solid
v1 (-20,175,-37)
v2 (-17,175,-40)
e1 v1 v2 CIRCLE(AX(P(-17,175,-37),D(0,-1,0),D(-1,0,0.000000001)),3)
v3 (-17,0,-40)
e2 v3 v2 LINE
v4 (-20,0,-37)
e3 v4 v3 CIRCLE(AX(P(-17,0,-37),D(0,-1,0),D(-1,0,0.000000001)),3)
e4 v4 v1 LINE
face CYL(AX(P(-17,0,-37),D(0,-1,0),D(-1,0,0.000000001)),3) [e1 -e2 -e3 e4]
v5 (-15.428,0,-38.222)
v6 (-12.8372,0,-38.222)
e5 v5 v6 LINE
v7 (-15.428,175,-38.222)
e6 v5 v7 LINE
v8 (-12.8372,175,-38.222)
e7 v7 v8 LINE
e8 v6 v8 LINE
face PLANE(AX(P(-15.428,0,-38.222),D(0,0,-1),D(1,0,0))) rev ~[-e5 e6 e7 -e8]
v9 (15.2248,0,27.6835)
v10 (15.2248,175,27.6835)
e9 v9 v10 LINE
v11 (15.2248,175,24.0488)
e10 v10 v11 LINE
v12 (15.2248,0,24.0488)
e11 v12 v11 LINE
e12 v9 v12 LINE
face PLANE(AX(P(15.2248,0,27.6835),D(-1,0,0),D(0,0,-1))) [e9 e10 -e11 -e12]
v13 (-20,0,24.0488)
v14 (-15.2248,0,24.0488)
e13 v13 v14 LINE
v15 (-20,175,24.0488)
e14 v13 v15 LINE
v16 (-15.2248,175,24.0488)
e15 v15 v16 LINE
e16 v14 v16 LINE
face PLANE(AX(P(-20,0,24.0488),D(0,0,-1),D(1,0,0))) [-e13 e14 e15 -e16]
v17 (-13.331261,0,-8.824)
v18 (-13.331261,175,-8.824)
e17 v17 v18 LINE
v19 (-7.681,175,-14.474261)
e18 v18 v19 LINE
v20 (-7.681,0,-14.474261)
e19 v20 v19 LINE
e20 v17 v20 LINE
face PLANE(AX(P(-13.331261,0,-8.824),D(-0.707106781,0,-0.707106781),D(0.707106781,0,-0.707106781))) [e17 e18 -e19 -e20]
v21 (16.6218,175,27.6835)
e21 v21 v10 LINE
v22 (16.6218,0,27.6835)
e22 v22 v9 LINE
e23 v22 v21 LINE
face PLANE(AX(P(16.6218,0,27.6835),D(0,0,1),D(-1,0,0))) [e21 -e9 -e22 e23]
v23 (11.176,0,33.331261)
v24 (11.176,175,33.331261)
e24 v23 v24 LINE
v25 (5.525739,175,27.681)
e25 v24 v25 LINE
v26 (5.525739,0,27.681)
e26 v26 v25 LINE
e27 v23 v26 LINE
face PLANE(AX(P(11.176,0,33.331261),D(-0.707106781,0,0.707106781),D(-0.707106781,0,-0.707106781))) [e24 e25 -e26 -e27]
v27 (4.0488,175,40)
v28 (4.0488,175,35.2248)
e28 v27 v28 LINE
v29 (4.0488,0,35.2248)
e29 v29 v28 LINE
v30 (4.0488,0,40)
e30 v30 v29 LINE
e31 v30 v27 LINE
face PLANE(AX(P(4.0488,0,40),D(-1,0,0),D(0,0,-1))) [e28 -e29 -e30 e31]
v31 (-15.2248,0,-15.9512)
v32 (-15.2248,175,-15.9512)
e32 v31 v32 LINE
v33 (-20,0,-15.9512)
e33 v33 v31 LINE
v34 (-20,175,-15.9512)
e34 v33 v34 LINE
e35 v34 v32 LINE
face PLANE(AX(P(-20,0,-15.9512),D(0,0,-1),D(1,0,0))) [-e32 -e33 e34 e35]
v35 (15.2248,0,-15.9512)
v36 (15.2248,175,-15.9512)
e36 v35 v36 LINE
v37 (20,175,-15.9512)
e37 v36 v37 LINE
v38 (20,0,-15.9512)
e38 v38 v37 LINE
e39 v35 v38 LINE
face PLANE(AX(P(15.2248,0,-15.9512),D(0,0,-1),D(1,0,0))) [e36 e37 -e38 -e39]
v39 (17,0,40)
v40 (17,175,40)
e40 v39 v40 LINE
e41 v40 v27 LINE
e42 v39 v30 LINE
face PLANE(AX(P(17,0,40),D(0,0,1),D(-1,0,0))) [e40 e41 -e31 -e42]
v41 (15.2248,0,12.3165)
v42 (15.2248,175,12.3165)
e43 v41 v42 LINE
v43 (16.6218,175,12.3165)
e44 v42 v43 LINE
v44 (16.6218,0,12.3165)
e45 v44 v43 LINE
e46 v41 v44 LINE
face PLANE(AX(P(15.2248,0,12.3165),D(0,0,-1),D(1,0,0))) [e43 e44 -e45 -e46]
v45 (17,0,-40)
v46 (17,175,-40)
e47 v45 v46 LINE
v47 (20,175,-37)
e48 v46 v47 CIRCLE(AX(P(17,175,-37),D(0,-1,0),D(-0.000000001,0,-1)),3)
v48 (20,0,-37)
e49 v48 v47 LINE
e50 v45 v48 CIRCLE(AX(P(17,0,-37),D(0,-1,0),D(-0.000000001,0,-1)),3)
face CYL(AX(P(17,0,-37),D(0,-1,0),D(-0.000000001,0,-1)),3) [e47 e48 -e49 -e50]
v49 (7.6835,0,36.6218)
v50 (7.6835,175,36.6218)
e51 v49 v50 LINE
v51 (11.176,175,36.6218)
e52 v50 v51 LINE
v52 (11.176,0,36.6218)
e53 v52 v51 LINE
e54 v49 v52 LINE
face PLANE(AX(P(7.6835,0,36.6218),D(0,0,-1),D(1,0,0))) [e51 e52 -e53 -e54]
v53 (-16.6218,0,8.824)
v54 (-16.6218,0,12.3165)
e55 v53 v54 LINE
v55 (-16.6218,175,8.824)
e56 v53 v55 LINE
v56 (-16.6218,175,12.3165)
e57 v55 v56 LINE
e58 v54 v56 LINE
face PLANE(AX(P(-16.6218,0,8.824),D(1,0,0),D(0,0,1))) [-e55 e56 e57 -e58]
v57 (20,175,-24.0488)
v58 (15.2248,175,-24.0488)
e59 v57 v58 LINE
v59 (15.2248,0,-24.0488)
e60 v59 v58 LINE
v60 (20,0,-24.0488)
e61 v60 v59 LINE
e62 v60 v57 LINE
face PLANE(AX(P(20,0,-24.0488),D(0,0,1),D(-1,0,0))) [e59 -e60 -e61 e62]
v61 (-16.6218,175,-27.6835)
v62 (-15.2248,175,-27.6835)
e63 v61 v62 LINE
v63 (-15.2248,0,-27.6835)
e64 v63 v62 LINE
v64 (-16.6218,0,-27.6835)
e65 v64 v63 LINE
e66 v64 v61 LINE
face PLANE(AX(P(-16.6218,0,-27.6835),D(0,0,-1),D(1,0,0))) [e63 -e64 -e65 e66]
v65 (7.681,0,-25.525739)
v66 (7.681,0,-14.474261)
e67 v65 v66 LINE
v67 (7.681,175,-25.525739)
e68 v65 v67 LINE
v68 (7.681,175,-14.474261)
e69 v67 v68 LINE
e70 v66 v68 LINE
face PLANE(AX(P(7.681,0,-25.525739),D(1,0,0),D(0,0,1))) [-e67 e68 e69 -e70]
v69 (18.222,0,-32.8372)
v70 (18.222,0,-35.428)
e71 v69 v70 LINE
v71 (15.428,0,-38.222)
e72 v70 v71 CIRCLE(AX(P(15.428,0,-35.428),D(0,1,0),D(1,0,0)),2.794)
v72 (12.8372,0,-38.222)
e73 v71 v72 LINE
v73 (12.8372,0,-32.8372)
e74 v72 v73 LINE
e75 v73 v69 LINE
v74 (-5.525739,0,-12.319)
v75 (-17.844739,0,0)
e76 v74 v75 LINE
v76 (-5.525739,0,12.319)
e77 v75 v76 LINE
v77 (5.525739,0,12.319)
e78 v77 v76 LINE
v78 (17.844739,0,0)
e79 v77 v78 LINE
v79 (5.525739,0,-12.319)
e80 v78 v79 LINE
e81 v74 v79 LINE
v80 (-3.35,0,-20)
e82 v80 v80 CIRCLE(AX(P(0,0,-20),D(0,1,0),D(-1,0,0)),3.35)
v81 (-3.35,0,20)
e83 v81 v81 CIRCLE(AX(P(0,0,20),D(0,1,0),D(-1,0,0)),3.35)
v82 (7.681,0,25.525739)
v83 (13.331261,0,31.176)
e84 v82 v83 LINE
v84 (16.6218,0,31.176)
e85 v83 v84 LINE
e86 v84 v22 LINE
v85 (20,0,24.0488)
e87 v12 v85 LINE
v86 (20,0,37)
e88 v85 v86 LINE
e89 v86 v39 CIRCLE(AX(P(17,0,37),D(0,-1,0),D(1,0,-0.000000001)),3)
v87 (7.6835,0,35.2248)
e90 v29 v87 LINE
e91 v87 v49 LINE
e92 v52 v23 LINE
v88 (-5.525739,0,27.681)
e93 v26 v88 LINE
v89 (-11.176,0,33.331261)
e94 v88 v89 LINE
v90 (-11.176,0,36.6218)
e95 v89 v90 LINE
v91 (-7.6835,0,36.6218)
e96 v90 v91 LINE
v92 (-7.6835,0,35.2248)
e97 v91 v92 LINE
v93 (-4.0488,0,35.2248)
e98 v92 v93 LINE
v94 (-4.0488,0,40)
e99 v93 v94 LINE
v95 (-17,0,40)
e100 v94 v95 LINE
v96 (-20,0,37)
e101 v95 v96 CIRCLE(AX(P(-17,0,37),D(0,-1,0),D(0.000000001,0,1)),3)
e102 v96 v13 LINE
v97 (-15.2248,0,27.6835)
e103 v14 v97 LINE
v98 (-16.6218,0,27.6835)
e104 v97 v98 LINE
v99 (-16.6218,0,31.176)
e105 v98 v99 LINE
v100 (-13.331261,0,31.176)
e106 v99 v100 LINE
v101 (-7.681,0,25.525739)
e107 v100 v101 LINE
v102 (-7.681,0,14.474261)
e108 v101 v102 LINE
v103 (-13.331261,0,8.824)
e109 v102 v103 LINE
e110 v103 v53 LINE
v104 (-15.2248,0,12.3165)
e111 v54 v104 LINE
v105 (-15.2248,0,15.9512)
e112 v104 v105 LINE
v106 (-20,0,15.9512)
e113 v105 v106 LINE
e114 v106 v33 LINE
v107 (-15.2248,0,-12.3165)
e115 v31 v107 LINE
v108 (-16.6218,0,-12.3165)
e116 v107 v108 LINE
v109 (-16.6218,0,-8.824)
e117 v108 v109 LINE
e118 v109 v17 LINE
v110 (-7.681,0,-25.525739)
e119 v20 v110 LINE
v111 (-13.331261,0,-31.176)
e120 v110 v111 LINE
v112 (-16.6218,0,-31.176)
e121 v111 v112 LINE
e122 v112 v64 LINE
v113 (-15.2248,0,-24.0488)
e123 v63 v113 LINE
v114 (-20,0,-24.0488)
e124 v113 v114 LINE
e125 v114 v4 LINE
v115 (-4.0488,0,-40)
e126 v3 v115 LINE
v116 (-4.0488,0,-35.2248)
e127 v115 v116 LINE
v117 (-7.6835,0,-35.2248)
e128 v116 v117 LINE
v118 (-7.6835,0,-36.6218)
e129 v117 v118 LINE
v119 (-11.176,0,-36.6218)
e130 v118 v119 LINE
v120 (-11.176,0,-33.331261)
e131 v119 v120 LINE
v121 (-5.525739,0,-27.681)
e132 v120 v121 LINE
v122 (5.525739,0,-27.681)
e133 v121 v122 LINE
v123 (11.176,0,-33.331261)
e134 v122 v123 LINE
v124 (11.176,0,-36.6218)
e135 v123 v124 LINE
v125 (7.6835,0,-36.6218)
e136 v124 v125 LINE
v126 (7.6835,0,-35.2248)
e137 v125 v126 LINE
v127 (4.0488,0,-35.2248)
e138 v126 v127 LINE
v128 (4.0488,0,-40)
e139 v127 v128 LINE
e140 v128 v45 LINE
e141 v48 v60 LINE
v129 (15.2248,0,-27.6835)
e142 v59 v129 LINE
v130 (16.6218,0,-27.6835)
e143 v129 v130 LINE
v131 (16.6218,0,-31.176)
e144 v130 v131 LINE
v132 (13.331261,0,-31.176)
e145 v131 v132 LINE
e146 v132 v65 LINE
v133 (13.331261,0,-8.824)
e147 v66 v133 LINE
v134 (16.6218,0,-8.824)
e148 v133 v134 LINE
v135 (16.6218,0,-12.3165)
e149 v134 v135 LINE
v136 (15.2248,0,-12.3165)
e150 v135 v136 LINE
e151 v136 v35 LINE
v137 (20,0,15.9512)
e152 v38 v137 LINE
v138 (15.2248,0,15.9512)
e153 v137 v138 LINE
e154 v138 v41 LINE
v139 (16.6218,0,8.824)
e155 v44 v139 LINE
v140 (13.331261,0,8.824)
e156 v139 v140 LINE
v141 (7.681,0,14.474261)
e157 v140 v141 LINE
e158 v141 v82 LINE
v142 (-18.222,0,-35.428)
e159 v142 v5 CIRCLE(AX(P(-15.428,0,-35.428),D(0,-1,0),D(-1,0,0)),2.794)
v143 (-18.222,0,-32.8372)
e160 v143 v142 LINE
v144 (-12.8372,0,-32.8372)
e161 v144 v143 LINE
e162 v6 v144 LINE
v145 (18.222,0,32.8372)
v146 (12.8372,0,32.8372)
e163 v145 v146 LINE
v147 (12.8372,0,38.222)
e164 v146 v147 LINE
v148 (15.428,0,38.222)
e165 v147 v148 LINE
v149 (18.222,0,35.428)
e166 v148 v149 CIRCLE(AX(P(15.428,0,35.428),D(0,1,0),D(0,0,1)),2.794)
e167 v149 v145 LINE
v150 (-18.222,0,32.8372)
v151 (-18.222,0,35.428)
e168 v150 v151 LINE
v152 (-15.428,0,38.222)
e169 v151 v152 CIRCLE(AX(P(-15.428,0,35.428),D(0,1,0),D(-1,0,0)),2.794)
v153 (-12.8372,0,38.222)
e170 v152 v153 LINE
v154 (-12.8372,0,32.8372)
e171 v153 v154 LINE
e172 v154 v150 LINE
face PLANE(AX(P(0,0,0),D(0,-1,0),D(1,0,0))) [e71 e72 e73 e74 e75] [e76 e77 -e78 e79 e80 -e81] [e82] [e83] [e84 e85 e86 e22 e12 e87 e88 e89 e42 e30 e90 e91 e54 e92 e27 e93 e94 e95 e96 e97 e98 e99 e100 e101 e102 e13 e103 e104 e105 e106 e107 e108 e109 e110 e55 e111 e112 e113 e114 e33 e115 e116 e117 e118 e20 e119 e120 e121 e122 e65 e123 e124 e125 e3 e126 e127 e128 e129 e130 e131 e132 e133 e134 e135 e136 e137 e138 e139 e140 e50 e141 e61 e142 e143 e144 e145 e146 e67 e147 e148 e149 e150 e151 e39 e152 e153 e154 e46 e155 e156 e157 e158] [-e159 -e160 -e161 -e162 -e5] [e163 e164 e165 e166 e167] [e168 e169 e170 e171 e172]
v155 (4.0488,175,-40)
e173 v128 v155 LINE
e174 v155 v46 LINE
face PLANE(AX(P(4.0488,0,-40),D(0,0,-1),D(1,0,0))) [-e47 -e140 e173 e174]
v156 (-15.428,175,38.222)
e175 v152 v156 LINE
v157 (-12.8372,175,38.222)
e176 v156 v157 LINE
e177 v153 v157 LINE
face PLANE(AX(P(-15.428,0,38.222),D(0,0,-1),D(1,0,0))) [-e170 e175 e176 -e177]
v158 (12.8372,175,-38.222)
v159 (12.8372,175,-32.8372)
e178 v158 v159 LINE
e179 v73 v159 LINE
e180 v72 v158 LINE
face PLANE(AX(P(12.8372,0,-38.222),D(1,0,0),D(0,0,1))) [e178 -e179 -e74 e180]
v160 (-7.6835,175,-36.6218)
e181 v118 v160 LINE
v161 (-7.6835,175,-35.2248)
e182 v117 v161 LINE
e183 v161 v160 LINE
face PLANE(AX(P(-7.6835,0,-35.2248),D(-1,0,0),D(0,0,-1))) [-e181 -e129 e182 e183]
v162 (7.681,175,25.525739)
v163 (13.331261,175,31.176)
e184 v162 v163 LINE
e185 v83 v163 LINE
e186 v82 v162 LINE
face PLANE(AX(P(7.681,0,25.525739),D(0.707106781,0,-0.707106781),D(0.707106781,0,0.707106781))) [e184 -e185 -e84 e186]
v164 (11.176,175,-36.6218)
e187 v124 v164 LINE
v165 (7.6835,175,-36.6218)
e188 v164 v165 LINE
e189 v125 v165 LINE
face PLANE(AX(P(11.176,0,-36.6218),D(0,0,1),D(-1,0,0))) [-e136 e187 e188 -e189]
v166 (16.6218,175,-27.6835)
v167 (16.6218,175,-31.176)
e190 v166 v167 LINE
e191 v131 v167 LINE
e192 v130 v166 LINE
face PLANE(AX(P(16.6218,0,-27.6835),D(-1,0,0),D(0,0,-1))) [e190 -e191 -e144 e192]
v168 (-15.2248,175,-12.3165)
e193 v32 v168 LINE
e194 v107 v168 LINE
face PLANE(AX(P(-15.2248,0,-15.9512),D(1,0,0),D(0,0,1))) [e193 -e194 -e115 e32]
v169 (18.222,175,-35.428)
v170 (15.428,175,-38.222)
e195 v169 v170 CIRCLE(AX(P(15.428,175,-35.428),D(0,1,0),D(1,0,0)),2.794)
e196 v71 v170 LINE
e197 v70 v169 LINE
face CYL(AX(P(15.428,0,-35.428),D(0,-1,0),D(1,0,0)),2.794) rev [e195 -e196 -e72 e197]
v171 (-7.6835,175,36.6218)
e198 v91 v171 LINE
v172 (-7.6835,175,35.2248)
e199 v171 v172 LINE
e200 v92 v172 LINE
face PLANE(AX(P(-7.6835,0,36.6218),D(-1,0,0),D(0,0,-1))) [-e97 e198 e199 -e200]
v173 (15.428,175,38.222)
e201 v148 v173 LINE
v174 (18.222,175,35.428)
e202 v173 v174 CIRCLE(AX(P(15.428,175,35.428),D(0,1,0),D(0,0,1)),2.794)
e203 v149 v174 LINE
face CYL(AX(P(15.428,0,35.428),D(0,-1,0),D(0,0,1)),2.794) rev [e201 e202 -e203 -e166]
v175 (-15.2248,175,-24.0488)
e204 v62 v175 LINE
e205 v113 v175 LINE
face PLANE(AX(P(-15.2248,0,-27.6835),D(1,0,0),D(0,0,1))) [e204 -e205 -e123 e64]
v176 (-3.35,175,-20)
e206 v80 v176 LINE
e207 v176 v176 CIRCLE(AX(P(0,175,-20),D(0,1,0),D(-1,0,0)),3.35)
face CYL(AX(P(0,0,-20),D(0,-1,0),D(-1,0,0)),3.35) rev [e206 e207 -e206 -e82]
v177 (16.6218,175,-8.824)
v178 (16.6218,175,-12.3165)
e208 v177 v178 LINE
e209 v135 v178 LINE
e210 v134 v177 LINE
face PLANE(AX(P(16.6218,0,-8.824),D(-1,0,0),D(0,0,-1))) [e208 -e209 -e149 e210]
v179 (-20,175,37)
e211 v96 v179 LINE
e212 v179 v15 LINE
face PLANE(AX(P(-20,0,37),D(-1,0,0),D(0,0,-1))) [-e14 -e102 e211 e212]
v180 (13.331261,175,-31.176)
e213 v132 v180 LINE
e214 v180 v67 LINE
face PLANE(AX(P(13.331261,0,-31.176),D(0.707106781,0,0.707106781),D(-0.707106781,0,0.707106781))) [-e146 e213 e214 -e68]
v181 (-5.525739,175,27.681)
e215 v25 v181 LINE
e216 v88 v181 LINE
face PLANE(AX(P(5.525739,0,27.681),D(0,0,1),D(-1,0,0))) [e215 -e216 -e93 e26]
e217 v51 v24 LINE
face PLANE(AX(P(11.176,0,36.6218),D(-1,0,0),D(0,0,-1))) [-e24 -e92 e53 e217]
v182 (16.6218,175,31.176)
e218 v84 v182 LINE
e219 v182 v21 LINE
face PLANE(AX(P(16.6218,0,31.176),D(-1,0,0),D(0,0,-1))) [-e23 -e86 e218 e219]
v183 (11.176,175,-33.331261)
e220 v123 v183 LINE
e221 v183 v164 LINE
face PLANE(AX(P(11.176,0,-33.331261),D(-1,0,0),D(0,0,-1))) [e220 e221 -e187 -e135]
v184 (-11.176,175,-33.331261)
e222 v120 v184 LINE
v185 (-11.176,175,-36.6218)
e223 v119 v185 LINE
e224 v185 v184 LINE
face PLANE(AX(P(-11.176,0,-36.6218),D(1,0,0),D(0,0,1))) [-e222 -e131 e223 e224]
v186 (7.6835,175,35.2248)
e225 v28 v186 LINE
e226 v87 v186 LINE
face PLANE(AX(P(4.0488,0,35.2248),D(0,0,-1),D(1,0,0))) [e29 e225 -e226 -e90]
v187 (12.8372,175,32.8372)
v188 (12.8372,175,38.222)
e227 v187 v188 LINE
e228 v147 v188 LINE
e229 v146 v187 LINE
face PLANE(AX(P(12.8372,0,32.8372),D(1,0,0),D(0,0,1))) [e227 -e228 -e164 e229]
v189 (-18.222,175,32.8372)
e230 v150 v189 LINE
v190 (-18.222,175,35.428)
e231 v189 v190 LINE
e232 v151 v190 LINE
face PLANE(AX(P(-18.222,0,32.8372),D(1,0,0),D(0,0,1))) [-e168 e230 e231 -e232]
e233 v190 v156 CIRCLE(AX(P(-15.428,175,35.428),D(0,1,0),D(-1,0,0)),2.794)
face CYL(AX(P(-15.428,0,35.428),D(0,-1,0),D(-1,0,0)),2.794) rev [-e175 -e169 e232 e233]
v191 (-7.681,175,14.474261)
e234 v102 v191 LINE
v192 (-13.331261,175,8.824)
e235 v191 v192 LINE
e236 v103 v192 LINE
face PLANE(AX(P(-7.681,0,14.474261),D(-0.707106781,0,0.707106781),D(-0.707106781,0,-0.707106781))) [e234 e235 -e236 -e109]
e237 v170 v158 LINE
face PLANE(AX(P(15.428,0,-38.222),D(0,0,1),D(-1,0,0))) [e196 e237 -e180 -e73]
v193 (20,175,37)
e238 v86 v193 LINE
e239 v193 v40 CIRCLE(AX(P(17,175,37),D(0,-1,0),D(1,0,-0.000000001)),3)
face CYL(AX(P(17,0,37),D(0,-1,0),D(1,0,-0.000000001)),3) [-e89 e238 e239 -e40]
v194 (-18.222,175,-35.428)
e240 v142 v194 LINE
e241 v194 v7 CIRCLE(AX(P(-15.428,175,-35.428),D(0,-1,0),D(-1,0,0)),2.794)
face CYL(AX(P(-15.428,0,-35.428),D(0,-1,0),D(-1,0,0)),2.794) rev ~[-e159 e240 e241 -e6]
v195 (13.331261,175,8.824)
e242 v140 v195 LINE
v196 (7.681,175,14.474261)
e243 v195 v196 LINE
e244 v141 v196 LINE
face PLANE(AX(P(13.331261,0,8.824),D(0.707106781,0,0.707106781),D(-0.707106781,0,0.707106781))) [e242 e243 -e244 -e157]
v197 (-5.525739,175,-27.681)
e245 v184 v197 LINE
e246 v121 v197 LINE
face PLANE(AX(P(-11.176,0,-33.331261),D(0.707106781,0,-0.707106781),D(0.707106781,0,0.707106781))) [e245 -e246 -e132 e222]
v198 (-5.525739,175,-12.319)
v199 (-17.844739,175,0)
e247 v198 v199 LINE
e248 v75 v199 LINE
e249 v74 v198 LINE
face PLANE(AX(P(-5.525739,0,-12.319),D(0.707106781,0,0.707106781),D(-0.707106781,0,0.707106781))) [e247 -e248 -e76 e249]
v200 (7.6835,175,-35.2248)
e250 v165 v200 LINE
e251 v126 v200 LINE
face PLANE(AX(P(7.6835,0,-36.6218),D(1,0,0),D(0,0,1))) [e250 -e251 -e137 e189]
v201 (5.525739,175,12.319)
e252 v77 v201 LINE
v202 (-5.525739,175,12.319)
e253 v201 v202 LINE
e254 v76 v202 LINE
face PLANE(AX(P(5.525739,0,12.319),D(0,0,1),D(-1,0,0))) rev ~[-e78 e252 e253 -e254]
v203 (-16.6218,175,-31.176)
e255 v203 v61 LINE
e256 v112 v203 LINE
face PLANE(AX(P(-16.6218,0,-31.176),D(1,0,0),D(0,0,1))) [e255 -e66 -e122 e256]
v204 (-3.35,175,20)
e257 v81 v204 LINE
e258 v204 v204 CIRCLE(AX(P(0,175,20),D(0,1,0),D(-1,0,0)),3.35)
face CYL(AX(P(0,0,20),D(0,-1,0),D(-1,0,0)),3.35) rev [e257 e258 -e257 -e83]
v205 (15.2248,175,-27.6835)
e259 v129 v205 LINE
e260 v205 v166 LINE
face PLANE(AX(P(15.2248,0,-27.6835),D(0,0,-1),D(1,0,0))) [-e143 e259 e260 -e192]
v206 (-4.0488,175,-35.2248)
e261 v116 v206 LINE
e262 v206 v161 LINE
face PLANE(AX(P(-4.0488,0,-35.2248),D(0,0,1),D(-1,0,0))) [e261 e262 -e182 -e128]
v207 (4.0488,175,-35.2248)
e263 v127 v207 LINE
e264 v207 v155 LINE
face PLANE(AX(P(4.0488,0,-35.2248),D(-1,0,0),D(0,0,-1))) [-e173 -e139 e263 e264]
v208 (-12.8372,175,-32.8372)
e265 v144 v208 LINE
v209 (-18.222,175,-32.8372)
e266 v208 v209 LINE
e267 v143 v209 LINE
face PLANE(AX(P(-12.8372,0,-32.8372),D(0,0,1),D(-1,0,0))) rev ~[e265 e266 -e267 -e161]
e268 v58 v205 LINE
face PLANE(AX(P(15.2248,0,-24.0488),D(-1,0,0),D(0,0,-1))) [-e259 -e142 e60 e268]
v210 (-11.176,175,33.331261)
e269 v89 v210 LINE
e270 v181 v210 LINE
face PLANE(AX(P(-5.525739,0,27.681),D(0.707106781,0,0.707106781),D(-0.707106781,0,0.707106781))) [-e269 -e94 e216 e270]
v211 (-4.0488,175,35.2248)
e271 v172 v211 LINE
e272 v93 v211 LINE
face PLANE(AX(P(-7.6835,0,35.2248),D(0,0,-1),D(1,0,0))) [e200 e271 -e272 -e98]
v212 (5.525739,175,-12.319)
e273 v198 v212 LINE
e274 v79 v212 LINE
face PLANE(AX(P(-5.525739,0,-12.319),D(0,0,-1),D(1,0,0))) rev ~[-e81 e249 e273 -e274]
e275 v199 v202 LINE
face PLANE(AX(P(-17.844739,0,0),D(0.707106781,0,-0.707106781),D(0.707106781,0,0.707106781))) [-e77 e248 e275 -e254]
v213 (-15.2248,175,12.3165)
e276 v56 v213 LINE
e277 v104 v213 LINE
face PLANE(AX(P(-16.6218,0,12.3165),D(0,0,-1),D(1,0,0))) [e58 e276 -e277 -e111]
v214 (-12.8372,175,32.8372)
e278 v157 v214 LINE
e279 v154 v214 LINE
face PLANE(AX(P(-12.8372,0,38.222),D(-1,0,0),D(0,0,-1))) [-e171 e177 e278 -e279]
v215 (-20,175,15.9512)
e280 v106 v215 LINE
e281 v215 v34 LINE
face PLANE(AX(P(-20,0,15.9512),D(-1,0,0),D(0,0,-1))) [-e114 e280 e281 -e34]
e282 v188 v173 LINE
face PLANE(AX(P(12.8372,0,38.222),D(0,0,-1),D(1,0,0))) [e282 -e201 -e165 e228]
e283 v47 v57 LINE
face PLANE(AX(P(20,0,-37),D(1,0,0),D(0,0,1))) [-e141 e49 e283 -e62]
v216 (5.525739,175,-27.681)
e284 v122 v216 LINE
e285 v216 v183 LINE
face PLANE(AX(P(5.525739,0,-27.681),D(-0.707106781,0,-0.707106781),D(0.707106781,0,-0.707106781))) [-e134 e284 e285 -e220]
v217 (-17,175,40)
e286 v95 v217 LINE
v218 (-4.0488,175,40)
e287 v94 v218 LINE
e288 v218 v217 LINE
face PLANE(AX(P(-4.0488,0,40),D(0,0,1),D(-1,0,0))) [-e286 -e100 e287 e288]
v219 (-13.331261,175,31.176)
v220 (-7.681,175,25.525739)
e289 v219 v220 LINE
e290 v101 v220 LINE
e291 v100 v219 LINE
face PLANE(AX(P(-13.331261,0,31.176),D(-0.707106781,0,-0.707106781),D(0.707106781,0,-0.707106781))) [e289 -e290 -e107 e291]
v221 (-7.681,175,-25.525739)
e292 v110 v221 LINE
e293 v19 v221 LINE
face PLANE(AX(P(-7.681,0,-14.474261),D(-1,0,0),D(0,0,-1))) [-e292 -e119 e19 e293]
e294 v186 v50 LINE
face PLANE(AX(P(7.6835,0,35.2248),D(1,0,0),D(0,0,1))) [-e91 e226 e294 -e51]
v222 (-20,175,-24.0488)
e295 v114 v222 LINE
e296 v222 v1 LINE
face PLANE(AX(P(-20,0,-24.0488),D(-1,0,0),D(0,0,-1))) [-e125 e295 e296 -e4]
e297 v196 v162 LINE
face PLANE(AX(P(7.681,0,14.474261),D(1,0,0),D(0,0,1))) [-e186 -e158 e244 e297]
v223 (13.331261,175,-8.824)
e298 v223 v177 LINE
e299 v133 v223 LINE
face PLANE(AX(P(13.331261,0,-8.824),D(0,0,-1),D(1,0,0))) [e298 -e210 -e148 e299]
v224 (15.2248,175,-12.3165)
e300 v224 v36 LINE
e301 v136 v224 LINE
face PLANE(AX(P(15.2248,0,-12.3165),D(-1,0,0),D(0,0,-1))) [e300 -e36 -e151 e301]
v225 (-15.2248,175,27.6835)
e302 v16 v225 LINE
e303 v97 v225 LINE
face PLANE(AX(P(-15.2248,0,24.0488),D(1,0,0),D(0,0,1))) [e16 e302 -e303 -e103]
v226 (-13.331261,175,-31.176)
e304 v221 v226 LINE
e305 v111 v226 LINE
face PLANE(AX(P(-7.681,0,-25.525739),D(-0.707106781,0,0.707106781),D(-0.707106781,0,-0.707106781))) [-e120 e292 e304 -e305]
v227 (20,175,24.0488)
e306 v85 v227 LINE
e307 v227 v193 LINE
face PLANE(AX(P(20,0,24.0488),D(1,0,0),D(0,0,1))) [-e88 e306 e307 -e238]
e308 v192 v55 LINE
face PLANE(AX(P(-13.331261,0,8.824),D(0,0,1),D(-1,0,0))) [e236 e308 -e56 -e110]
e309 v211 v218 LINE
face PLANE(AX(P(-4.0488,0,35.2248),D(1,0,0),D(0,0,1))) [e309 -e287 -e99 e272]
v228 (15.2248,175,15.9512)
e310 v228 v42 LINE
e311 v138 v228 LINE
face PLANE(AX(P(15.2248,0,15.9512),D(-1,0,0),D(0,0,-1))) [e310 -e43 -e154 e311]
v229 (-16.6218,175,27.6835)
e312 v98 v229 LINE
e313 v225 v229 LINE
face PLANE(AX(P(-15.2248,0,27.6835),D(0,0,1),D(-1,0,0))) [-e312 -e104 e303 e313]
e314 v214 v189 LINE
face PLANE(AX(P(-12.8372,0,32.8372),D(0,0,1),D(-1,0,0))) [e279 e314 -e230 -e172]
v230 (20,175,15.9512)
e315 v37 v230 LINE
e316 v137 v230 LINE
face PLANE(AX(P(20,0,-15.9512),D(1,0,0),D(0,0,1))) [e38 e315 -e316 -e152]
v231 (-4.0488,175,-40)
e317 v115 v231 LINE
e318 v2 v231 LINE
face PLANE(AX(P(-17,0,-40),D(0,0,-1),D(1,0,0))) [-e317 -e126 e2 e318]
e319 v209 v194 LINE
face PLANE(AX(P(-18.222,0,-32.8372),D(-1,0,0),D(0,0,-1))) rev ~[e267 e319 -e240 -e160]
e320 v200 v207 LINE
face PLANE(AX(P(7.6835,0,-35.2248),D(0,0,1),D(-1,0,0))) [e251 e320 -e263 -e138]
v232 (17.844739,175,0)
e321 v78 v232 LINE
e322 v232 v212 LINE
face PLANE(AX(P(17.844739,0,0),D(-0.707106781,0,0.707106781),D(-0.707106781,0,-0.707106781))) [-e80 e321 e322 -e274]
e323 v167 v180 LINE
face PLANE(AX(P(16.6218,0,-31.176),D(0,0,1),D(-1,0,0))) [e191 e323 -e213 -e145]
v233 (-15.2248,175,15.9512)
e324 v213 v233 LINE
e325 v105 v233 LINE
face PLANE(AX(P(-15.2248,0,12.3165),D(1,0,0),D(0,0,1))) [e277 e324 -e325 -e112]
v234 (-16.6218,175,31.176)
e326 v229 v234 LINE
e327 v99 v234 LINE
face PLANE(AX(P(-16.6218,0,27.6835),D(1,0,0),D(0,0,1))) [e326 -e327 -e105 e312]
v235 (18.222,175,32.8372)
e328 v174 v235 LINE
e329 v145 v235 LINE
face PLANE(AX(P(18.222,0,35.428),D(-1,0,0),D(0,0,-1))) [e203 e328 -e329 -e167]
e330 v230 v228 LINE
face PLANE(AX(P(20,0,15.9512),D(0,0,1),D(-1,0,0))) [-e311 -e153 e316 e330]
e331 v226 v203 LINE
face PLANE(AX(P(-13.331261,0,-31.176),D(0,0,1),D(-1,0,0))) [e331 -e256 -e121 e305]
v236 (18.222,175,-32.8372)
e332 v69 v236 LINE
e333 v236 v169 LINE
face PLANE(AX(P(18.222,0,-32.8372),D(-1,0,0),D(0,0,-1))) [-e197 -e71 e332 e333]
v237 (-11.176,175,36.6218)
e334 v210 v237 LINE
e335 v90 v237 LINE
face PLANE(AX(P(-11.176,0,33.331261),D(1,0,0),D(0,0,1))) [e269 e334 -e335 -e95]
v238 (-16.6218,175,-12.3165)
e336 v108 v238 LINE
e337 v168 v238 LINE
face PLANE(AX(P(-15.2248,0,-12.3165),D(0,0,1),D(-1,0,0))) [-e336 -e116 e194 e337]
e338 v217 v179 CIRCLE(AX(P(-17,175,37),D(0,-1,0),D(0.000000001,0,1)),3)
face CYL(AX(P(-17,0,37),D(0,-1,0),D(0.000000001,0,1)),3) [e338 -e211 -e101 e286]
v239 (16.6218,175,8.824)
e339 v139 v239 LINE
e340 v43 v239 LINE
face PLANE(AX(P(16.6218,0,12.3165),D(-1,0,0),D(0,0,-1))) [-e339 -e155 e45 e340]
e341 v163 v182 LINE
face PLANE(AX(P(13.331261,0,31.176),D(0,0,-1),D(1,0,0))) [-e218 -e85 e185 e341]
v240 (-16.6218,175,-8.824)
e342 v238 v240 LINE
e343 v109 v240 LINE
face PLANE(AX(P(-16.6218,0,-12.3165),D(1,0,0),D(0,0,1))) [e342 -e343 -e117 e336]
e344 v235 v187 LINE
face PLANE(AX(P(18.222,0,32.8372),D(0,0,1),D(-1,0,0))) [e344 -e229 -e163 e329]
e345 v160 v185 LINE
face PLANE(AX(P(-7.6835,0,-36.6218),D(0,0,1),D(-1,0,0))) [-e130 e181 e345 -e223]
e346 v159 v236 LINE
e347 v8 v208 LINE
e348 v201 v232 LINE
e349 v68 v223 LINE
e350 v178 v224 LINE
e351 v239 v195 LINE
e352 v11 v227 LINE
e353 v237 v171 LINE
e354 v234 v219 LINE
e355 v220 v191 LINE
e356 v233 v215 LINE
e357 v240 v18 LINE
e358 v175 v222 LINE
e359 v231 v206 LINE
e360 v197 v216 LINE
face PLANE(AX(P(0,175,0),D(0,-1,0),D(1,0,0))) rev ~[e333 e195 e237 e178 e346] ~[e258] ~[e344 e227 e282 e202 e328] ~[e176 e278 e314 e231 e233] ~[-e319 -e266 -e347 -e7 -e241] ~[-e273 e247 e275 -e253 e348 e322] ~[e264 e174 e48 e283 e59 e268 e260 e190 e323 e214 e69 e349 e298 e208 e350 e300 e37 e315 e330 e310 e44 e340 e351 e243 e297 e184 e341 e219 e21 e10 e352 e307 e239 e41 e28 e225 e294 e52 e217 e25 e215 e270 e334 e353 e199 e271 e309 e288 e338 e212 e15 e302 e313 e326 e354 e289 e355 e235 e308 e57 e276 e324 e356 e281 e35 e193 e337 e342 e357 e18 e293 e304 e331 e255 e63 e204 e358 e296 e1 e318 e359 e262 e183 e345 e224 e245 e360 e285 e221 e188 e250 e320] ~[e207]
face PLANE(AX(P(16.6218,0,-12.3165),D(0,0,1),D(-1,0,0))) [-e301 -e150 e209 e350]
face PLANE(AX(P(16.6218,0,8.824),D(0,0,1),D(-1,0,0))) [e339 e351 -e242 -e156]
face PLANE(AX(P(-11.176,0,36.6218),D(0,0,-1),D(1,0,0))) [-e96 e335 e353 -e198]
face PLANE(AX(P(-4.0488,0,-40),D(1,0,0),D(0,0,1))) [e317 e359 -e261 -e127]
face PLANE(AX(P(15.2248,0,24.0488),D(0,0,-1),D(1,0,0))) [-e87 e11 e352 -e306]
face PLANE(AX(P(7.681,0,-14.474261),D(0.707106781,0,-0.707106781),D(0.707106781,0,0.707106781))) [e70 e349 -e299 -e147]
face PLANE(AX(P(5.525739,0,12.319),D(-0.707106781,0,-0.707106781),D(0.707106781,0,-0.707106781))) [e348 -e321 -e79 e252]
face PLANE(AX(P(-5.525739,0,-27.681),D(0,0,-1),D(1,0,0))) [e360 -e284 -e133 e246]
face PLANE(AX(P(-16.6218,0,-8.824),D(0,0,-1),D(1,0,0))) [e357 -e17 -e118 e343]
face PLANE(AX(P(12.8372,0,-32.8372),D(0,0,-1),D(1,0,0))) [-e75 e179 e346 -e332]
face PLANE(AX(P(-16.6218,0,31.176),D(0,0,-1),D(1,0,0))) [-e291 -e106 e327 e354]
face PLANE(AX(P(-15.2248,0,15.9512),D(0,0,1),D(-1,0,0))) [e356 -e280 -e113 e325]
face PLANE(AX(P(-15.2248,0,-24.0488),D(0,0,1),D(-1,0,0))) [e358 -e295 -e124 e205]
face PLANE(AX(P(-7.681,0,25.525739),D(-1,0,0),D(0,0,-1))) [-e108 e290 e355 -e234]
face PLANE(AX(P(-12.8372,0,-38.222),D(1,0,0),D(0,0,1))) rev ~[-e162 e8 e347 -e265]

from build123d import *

# Parameters (mm, degrees)
SKETCH2_R                            = 3.35
F_40_SERIES_TS40_80LM_650037_1_DEPTH = 175


with BuildPart() as part:
    # Sketch2 → 40 series TS40-80LM-650037(1) (new body)
    with BuildSketch(Plane(origin=(0, 0, 0), x_dir=(-1, 0, 0), z_dir=(0, 1, 0))):
        with BuildLine():
            Line((0, -27.681), (-5.525738531, -27.681))
            Line((-5.525738531, -27.681), (-11.176, -33.331261469))
            Line((-11.176, -33.331261469), (-11.176, -36.6218))
            Line((-11.176, -36.6218), (-7.6835, -36.6218))
            Line((-7.6835, -36.6218), (-7.6835, -35.2248))
            Line((-7.6835, -35.2248), (-4.0488, -35.2248))
            Line((-4.0488, -35.2248), (-4.0488, -40))
            Line((-4.0488, -40), (-17, -40))
            ThreePointArc((-17, -40), (-19.121320344, -39.121320344), (-20, -37))
            Line((-20, -37), (-20, -24.0488))
            Line((-20, -24.0488), (-15.2248, -24.0488))
            Line((-15.2248, -24.0488), (-15.2248, -27.6835))
            Line((-15.2248, -27.6835), (-16.6218, -27.6835))
            Line((-16.6218, -27.6835), (-16.6218, -31.176))
            Line((-16.6218, -31.176), (-13.331261469, -31.176))
            Line((-13.331261469, -31.176), (-7.681, -25.525738531))
            Line((-7.681, -25.525738531), (-7.681, -20))
            Line((-7.681, -20), (-7.681, -14.474261469))
            Line((-7.681, -14.474261469), (-13.331261469, -8.824))
            Line((-13.331261469, -8.824), (-16.6218, -8.824))
            Line((-16.6218, -8.824), (-16.6218, -12.3165))
            Line((-16.6218, -12.3165), (-15.2248, -12.3165))
            Line((-15.2248, -12.3165), (-15.2248, -15.9512))
            Line((-15.2248, -15.9512), (-20, -15.9512))
            Line((-20, -15.9512), (-20, 15.9512))
            Line((-20, 15.9512), (-15.2248, 15.9512))
            Line((-15.2248, 15.9512), (-15.2248, 12.3165))
            Line((-15.2248, 12.3165), (-16.6218, 12.3165))
            Line((-16.6218, 12.3165), (-16.6218, 8.824))
            Line((-16.6218, 8.824), (-13.331261469, 8.824))
            Line((-13.331261469, 8.824), (-7.681, 14.474261469))
            Line((-7.681, 14.474261469), (-7.681, 25.525738531))
            Line((-7.681, 25.525738531), (-13.331261469, 31.176))
            Line((-13.331261469, 31.176), (-16.6218, 31.176))
            Line((-16.6218, 31.176), (-16.6218, 27.6835))
            Line((-16.6218, 27.6835), (-15.2248, 27.6835))
            Line((-15.2248, 27.6835), (-15.2248, 24.0488))
            Line((-15.2248, 24.0488), (-20, 24.0488))
            Line((-20, 24.0488), (-20, 37))
            ThreePointArc((-20, 37), (-19.121320344, 39.121320344), (-17, 40))
            Line((-17, 40), (-4.0488, 40))
            Line((-4.0488, 40), (-4.0488, 35.2248))
            Line((-4.0488, 35.2248), (-7.6835, 35.2248))
            Line((-7.6835, 35.2248), (-7.6835, 36.6218))
            Line((-7.6835, 36.6218), (-11.176, 36.6218))
            Line((-11.176, 36.6218), (-11.176, 33.331261469))
            Line((-11.176, 33.331261469), (-5.525738531, 27.681))
            Line((-5.525738531, 27.681), (0, 27.681))
            Line((0, 27.681), (5.525738531, 27.681))
            Line((5.525738531, 27.681), (11.176, 33.331261469))
            Line((11.176, 33.331261469), (11.176, 36.6218))
            Line((11.176, 36.6218), (7.6835, 36.6218))
            Line((7.6835, 36.6218), (7.6835, 35.2248))
            Line((7.6835, 35.2248), (4.0488, 35.2248))
            Line((4.0488, 35.2248), (4.0488, 40))
            Line((4.0488, 40), (17, 40))
            ThreePointArc((17, 40), (19.121320344, 39.121320344), (20, 37))
            Line((20, 37), (20, 24.0488))
            Line((20, 24.0488), (15.2248, 24.0488))
            Line((15.2248, 24.0488), (15.2248, 27.6835))
            Line((15.2248, 27.6835), (16.6218, 27.6835))
            Line((16.6218, 27.6835), (16.6218, 31.176))
            Line((16.6218, 31.176), (13.331261469, 31.176))
            Line((13.331261469, 31.176), (7.681, 25.525738531))
            Line((7.681, 25.525738531), (7.681, 20))
            Line((7.681, 20), (7.681, 14.474261469))
            Line((7.681, 14.474261469), (13.331261469, 8.824))
            Line((13.331261469, 8.824), (16.6218, 8.824))
            Line((16.6218, 8.824), (16.6218, 12.3165))
            Line((16.6218, 12.3165), (15.2248, 12.3165))
            Line((15.2248, 12.3165), (15.2248, 15.9512))
            Line((15.2248, 15.9512), (20, 15.9512))
            Line((20, 15.9512), (20, -15.9512))
            Line((20, -15.9512), (15.2248, -15.9512))
            Line((15.2248, -15.9512), (15.2248, -12.3165))
            Line((15.2248, -12.3165), (16.6218, -12.3165))
            Line((16.6218, -12.3165), (16.6218, -8.824))
            Line((16.6218, -8.824), (13.331261469, -8.824))
            Line((13.331261469, -8.824), (7.681, -14.474261469))
            Line((7.681, -14.474261469), (7.681, -20))
            Line((7.681, -20), (7.681, -25.525738531))
            Line((7.681, -25.525738531), (13.331261469, -31.176))
            Line((13.331261469, -31.176), (16.6218, -31.176))
            Line((16.6218, -31.176), (16.6218, -27.6835))
            Line((16.6218, -27.6835), (15.2248, -27.6835))
            Line((15.2248, -27.6835), (15.2248, -24.0488))
            Line((15.2248, -24.0488), (20, -24.0488))
            Line((20, -24.0488), (20, -37))
            ThreePointArc((20, -37), (19.121320344, -39.121320344), (17, -40))
            Line((17, -40), (4.0488, -40))
            Line((4.0488, -40), (4.0488, -35.2248))
            Line((4.0488, -35.2248), (7.6835, -35.2248))
            Line((7.6835, -35.2248), (7.6835, -36.6218))
            Line((7.6835, -36.6218), (11.176, -36.6218))
            Line((11.176, -36.6218), (11.176, -33.331261469))
            Line((11.176, -33.331261469), (5.525738531, -27.681))
            Line((5.525738531, -27.681), (0, -27.681))
        make_face()
        with Locations((0, -20)):
            Circle(SKETCH2_R, mode=Mode.SUBTRACT)
        with Locations((0, 20)):
            Circle(SKETCH2_R, mode=Mode.SUBTRACT)
        Polygon((-5.525738531, 12.319), (-17.844738531, 0), (-5.525738531, -12.319), (0, -12.319), (5.525738531, -12.319), (17.844738531, 0), (5.525738531, 12.319), (0, 12.319), align=None, mode=Mode.SUBTRACT)
        with BuildLine():
            Line((12.8372, 38.222), (12.8372, 32.8372))
            Line((12.8372, 32.8372), (18.222, 32.8372))
            Line((18.222, 32.8372), (18.222, 35.428))
            ThreePointArc((18.222, 35.428), (17.403656347, 37.403656347), (15.428, 38.222))
            Line((15.428, 38.222), (12.8372, 38.222))
        make_face(mode=Mode.SUBTRACT)
        with BuildLine():
            Line((12.8372, -32.8372), (18.222, -32.8372))
            Line((18.222, -32.8372), (18.222, -35.428))
            ThreePointArc((18.222, -35.428), (17.403656347, -37.403656347), (15.428, -38.222))
            Line((15.428, -38.222), (12.8372, -38.222))
            Line((12.8372, -38.222), (12.8372, -32.8372))
        make_face(mode=Mode.SUBTRACT)
        with BuildLine():
            Line((-12.8372, -38.222), (-12.8372, -32.8372))
            Line((-12.8372, -32.8372), (-18.222, -32.8372))
            Line((-18.222, -32.8372), (-18.222, -35.428))
            ThreePointArc((-18.222, -35.428), (-17.403656347, -37.403656347), (-15.428, -38.222))
            Line((-15.428, -38.222), (-12.8372, -38.222))
        make_face(mode=Mode.SUBTRACT)
        with BuildLine():
            Line((-18.222, 35.428), (-18.222, 32.8372))
            Line((-18.222, 32.8372), (-12.8372, 32.8372))
            Line((-12.8372, 32.8372), (-12.8372, 38.222))
            Line((-12.8372, 38.222), (-15.428, 38.222))
            ThreePointArc((-15.428, 38.222), (-17.403656347, 37.403656347), (-18.222, 35.428))
        make_face(mode=Mode.SUBTRACT)
    extrude(amount=F_40_SERIES_TS40_80LM_650037_1_DEPTH)


solid = part.part
